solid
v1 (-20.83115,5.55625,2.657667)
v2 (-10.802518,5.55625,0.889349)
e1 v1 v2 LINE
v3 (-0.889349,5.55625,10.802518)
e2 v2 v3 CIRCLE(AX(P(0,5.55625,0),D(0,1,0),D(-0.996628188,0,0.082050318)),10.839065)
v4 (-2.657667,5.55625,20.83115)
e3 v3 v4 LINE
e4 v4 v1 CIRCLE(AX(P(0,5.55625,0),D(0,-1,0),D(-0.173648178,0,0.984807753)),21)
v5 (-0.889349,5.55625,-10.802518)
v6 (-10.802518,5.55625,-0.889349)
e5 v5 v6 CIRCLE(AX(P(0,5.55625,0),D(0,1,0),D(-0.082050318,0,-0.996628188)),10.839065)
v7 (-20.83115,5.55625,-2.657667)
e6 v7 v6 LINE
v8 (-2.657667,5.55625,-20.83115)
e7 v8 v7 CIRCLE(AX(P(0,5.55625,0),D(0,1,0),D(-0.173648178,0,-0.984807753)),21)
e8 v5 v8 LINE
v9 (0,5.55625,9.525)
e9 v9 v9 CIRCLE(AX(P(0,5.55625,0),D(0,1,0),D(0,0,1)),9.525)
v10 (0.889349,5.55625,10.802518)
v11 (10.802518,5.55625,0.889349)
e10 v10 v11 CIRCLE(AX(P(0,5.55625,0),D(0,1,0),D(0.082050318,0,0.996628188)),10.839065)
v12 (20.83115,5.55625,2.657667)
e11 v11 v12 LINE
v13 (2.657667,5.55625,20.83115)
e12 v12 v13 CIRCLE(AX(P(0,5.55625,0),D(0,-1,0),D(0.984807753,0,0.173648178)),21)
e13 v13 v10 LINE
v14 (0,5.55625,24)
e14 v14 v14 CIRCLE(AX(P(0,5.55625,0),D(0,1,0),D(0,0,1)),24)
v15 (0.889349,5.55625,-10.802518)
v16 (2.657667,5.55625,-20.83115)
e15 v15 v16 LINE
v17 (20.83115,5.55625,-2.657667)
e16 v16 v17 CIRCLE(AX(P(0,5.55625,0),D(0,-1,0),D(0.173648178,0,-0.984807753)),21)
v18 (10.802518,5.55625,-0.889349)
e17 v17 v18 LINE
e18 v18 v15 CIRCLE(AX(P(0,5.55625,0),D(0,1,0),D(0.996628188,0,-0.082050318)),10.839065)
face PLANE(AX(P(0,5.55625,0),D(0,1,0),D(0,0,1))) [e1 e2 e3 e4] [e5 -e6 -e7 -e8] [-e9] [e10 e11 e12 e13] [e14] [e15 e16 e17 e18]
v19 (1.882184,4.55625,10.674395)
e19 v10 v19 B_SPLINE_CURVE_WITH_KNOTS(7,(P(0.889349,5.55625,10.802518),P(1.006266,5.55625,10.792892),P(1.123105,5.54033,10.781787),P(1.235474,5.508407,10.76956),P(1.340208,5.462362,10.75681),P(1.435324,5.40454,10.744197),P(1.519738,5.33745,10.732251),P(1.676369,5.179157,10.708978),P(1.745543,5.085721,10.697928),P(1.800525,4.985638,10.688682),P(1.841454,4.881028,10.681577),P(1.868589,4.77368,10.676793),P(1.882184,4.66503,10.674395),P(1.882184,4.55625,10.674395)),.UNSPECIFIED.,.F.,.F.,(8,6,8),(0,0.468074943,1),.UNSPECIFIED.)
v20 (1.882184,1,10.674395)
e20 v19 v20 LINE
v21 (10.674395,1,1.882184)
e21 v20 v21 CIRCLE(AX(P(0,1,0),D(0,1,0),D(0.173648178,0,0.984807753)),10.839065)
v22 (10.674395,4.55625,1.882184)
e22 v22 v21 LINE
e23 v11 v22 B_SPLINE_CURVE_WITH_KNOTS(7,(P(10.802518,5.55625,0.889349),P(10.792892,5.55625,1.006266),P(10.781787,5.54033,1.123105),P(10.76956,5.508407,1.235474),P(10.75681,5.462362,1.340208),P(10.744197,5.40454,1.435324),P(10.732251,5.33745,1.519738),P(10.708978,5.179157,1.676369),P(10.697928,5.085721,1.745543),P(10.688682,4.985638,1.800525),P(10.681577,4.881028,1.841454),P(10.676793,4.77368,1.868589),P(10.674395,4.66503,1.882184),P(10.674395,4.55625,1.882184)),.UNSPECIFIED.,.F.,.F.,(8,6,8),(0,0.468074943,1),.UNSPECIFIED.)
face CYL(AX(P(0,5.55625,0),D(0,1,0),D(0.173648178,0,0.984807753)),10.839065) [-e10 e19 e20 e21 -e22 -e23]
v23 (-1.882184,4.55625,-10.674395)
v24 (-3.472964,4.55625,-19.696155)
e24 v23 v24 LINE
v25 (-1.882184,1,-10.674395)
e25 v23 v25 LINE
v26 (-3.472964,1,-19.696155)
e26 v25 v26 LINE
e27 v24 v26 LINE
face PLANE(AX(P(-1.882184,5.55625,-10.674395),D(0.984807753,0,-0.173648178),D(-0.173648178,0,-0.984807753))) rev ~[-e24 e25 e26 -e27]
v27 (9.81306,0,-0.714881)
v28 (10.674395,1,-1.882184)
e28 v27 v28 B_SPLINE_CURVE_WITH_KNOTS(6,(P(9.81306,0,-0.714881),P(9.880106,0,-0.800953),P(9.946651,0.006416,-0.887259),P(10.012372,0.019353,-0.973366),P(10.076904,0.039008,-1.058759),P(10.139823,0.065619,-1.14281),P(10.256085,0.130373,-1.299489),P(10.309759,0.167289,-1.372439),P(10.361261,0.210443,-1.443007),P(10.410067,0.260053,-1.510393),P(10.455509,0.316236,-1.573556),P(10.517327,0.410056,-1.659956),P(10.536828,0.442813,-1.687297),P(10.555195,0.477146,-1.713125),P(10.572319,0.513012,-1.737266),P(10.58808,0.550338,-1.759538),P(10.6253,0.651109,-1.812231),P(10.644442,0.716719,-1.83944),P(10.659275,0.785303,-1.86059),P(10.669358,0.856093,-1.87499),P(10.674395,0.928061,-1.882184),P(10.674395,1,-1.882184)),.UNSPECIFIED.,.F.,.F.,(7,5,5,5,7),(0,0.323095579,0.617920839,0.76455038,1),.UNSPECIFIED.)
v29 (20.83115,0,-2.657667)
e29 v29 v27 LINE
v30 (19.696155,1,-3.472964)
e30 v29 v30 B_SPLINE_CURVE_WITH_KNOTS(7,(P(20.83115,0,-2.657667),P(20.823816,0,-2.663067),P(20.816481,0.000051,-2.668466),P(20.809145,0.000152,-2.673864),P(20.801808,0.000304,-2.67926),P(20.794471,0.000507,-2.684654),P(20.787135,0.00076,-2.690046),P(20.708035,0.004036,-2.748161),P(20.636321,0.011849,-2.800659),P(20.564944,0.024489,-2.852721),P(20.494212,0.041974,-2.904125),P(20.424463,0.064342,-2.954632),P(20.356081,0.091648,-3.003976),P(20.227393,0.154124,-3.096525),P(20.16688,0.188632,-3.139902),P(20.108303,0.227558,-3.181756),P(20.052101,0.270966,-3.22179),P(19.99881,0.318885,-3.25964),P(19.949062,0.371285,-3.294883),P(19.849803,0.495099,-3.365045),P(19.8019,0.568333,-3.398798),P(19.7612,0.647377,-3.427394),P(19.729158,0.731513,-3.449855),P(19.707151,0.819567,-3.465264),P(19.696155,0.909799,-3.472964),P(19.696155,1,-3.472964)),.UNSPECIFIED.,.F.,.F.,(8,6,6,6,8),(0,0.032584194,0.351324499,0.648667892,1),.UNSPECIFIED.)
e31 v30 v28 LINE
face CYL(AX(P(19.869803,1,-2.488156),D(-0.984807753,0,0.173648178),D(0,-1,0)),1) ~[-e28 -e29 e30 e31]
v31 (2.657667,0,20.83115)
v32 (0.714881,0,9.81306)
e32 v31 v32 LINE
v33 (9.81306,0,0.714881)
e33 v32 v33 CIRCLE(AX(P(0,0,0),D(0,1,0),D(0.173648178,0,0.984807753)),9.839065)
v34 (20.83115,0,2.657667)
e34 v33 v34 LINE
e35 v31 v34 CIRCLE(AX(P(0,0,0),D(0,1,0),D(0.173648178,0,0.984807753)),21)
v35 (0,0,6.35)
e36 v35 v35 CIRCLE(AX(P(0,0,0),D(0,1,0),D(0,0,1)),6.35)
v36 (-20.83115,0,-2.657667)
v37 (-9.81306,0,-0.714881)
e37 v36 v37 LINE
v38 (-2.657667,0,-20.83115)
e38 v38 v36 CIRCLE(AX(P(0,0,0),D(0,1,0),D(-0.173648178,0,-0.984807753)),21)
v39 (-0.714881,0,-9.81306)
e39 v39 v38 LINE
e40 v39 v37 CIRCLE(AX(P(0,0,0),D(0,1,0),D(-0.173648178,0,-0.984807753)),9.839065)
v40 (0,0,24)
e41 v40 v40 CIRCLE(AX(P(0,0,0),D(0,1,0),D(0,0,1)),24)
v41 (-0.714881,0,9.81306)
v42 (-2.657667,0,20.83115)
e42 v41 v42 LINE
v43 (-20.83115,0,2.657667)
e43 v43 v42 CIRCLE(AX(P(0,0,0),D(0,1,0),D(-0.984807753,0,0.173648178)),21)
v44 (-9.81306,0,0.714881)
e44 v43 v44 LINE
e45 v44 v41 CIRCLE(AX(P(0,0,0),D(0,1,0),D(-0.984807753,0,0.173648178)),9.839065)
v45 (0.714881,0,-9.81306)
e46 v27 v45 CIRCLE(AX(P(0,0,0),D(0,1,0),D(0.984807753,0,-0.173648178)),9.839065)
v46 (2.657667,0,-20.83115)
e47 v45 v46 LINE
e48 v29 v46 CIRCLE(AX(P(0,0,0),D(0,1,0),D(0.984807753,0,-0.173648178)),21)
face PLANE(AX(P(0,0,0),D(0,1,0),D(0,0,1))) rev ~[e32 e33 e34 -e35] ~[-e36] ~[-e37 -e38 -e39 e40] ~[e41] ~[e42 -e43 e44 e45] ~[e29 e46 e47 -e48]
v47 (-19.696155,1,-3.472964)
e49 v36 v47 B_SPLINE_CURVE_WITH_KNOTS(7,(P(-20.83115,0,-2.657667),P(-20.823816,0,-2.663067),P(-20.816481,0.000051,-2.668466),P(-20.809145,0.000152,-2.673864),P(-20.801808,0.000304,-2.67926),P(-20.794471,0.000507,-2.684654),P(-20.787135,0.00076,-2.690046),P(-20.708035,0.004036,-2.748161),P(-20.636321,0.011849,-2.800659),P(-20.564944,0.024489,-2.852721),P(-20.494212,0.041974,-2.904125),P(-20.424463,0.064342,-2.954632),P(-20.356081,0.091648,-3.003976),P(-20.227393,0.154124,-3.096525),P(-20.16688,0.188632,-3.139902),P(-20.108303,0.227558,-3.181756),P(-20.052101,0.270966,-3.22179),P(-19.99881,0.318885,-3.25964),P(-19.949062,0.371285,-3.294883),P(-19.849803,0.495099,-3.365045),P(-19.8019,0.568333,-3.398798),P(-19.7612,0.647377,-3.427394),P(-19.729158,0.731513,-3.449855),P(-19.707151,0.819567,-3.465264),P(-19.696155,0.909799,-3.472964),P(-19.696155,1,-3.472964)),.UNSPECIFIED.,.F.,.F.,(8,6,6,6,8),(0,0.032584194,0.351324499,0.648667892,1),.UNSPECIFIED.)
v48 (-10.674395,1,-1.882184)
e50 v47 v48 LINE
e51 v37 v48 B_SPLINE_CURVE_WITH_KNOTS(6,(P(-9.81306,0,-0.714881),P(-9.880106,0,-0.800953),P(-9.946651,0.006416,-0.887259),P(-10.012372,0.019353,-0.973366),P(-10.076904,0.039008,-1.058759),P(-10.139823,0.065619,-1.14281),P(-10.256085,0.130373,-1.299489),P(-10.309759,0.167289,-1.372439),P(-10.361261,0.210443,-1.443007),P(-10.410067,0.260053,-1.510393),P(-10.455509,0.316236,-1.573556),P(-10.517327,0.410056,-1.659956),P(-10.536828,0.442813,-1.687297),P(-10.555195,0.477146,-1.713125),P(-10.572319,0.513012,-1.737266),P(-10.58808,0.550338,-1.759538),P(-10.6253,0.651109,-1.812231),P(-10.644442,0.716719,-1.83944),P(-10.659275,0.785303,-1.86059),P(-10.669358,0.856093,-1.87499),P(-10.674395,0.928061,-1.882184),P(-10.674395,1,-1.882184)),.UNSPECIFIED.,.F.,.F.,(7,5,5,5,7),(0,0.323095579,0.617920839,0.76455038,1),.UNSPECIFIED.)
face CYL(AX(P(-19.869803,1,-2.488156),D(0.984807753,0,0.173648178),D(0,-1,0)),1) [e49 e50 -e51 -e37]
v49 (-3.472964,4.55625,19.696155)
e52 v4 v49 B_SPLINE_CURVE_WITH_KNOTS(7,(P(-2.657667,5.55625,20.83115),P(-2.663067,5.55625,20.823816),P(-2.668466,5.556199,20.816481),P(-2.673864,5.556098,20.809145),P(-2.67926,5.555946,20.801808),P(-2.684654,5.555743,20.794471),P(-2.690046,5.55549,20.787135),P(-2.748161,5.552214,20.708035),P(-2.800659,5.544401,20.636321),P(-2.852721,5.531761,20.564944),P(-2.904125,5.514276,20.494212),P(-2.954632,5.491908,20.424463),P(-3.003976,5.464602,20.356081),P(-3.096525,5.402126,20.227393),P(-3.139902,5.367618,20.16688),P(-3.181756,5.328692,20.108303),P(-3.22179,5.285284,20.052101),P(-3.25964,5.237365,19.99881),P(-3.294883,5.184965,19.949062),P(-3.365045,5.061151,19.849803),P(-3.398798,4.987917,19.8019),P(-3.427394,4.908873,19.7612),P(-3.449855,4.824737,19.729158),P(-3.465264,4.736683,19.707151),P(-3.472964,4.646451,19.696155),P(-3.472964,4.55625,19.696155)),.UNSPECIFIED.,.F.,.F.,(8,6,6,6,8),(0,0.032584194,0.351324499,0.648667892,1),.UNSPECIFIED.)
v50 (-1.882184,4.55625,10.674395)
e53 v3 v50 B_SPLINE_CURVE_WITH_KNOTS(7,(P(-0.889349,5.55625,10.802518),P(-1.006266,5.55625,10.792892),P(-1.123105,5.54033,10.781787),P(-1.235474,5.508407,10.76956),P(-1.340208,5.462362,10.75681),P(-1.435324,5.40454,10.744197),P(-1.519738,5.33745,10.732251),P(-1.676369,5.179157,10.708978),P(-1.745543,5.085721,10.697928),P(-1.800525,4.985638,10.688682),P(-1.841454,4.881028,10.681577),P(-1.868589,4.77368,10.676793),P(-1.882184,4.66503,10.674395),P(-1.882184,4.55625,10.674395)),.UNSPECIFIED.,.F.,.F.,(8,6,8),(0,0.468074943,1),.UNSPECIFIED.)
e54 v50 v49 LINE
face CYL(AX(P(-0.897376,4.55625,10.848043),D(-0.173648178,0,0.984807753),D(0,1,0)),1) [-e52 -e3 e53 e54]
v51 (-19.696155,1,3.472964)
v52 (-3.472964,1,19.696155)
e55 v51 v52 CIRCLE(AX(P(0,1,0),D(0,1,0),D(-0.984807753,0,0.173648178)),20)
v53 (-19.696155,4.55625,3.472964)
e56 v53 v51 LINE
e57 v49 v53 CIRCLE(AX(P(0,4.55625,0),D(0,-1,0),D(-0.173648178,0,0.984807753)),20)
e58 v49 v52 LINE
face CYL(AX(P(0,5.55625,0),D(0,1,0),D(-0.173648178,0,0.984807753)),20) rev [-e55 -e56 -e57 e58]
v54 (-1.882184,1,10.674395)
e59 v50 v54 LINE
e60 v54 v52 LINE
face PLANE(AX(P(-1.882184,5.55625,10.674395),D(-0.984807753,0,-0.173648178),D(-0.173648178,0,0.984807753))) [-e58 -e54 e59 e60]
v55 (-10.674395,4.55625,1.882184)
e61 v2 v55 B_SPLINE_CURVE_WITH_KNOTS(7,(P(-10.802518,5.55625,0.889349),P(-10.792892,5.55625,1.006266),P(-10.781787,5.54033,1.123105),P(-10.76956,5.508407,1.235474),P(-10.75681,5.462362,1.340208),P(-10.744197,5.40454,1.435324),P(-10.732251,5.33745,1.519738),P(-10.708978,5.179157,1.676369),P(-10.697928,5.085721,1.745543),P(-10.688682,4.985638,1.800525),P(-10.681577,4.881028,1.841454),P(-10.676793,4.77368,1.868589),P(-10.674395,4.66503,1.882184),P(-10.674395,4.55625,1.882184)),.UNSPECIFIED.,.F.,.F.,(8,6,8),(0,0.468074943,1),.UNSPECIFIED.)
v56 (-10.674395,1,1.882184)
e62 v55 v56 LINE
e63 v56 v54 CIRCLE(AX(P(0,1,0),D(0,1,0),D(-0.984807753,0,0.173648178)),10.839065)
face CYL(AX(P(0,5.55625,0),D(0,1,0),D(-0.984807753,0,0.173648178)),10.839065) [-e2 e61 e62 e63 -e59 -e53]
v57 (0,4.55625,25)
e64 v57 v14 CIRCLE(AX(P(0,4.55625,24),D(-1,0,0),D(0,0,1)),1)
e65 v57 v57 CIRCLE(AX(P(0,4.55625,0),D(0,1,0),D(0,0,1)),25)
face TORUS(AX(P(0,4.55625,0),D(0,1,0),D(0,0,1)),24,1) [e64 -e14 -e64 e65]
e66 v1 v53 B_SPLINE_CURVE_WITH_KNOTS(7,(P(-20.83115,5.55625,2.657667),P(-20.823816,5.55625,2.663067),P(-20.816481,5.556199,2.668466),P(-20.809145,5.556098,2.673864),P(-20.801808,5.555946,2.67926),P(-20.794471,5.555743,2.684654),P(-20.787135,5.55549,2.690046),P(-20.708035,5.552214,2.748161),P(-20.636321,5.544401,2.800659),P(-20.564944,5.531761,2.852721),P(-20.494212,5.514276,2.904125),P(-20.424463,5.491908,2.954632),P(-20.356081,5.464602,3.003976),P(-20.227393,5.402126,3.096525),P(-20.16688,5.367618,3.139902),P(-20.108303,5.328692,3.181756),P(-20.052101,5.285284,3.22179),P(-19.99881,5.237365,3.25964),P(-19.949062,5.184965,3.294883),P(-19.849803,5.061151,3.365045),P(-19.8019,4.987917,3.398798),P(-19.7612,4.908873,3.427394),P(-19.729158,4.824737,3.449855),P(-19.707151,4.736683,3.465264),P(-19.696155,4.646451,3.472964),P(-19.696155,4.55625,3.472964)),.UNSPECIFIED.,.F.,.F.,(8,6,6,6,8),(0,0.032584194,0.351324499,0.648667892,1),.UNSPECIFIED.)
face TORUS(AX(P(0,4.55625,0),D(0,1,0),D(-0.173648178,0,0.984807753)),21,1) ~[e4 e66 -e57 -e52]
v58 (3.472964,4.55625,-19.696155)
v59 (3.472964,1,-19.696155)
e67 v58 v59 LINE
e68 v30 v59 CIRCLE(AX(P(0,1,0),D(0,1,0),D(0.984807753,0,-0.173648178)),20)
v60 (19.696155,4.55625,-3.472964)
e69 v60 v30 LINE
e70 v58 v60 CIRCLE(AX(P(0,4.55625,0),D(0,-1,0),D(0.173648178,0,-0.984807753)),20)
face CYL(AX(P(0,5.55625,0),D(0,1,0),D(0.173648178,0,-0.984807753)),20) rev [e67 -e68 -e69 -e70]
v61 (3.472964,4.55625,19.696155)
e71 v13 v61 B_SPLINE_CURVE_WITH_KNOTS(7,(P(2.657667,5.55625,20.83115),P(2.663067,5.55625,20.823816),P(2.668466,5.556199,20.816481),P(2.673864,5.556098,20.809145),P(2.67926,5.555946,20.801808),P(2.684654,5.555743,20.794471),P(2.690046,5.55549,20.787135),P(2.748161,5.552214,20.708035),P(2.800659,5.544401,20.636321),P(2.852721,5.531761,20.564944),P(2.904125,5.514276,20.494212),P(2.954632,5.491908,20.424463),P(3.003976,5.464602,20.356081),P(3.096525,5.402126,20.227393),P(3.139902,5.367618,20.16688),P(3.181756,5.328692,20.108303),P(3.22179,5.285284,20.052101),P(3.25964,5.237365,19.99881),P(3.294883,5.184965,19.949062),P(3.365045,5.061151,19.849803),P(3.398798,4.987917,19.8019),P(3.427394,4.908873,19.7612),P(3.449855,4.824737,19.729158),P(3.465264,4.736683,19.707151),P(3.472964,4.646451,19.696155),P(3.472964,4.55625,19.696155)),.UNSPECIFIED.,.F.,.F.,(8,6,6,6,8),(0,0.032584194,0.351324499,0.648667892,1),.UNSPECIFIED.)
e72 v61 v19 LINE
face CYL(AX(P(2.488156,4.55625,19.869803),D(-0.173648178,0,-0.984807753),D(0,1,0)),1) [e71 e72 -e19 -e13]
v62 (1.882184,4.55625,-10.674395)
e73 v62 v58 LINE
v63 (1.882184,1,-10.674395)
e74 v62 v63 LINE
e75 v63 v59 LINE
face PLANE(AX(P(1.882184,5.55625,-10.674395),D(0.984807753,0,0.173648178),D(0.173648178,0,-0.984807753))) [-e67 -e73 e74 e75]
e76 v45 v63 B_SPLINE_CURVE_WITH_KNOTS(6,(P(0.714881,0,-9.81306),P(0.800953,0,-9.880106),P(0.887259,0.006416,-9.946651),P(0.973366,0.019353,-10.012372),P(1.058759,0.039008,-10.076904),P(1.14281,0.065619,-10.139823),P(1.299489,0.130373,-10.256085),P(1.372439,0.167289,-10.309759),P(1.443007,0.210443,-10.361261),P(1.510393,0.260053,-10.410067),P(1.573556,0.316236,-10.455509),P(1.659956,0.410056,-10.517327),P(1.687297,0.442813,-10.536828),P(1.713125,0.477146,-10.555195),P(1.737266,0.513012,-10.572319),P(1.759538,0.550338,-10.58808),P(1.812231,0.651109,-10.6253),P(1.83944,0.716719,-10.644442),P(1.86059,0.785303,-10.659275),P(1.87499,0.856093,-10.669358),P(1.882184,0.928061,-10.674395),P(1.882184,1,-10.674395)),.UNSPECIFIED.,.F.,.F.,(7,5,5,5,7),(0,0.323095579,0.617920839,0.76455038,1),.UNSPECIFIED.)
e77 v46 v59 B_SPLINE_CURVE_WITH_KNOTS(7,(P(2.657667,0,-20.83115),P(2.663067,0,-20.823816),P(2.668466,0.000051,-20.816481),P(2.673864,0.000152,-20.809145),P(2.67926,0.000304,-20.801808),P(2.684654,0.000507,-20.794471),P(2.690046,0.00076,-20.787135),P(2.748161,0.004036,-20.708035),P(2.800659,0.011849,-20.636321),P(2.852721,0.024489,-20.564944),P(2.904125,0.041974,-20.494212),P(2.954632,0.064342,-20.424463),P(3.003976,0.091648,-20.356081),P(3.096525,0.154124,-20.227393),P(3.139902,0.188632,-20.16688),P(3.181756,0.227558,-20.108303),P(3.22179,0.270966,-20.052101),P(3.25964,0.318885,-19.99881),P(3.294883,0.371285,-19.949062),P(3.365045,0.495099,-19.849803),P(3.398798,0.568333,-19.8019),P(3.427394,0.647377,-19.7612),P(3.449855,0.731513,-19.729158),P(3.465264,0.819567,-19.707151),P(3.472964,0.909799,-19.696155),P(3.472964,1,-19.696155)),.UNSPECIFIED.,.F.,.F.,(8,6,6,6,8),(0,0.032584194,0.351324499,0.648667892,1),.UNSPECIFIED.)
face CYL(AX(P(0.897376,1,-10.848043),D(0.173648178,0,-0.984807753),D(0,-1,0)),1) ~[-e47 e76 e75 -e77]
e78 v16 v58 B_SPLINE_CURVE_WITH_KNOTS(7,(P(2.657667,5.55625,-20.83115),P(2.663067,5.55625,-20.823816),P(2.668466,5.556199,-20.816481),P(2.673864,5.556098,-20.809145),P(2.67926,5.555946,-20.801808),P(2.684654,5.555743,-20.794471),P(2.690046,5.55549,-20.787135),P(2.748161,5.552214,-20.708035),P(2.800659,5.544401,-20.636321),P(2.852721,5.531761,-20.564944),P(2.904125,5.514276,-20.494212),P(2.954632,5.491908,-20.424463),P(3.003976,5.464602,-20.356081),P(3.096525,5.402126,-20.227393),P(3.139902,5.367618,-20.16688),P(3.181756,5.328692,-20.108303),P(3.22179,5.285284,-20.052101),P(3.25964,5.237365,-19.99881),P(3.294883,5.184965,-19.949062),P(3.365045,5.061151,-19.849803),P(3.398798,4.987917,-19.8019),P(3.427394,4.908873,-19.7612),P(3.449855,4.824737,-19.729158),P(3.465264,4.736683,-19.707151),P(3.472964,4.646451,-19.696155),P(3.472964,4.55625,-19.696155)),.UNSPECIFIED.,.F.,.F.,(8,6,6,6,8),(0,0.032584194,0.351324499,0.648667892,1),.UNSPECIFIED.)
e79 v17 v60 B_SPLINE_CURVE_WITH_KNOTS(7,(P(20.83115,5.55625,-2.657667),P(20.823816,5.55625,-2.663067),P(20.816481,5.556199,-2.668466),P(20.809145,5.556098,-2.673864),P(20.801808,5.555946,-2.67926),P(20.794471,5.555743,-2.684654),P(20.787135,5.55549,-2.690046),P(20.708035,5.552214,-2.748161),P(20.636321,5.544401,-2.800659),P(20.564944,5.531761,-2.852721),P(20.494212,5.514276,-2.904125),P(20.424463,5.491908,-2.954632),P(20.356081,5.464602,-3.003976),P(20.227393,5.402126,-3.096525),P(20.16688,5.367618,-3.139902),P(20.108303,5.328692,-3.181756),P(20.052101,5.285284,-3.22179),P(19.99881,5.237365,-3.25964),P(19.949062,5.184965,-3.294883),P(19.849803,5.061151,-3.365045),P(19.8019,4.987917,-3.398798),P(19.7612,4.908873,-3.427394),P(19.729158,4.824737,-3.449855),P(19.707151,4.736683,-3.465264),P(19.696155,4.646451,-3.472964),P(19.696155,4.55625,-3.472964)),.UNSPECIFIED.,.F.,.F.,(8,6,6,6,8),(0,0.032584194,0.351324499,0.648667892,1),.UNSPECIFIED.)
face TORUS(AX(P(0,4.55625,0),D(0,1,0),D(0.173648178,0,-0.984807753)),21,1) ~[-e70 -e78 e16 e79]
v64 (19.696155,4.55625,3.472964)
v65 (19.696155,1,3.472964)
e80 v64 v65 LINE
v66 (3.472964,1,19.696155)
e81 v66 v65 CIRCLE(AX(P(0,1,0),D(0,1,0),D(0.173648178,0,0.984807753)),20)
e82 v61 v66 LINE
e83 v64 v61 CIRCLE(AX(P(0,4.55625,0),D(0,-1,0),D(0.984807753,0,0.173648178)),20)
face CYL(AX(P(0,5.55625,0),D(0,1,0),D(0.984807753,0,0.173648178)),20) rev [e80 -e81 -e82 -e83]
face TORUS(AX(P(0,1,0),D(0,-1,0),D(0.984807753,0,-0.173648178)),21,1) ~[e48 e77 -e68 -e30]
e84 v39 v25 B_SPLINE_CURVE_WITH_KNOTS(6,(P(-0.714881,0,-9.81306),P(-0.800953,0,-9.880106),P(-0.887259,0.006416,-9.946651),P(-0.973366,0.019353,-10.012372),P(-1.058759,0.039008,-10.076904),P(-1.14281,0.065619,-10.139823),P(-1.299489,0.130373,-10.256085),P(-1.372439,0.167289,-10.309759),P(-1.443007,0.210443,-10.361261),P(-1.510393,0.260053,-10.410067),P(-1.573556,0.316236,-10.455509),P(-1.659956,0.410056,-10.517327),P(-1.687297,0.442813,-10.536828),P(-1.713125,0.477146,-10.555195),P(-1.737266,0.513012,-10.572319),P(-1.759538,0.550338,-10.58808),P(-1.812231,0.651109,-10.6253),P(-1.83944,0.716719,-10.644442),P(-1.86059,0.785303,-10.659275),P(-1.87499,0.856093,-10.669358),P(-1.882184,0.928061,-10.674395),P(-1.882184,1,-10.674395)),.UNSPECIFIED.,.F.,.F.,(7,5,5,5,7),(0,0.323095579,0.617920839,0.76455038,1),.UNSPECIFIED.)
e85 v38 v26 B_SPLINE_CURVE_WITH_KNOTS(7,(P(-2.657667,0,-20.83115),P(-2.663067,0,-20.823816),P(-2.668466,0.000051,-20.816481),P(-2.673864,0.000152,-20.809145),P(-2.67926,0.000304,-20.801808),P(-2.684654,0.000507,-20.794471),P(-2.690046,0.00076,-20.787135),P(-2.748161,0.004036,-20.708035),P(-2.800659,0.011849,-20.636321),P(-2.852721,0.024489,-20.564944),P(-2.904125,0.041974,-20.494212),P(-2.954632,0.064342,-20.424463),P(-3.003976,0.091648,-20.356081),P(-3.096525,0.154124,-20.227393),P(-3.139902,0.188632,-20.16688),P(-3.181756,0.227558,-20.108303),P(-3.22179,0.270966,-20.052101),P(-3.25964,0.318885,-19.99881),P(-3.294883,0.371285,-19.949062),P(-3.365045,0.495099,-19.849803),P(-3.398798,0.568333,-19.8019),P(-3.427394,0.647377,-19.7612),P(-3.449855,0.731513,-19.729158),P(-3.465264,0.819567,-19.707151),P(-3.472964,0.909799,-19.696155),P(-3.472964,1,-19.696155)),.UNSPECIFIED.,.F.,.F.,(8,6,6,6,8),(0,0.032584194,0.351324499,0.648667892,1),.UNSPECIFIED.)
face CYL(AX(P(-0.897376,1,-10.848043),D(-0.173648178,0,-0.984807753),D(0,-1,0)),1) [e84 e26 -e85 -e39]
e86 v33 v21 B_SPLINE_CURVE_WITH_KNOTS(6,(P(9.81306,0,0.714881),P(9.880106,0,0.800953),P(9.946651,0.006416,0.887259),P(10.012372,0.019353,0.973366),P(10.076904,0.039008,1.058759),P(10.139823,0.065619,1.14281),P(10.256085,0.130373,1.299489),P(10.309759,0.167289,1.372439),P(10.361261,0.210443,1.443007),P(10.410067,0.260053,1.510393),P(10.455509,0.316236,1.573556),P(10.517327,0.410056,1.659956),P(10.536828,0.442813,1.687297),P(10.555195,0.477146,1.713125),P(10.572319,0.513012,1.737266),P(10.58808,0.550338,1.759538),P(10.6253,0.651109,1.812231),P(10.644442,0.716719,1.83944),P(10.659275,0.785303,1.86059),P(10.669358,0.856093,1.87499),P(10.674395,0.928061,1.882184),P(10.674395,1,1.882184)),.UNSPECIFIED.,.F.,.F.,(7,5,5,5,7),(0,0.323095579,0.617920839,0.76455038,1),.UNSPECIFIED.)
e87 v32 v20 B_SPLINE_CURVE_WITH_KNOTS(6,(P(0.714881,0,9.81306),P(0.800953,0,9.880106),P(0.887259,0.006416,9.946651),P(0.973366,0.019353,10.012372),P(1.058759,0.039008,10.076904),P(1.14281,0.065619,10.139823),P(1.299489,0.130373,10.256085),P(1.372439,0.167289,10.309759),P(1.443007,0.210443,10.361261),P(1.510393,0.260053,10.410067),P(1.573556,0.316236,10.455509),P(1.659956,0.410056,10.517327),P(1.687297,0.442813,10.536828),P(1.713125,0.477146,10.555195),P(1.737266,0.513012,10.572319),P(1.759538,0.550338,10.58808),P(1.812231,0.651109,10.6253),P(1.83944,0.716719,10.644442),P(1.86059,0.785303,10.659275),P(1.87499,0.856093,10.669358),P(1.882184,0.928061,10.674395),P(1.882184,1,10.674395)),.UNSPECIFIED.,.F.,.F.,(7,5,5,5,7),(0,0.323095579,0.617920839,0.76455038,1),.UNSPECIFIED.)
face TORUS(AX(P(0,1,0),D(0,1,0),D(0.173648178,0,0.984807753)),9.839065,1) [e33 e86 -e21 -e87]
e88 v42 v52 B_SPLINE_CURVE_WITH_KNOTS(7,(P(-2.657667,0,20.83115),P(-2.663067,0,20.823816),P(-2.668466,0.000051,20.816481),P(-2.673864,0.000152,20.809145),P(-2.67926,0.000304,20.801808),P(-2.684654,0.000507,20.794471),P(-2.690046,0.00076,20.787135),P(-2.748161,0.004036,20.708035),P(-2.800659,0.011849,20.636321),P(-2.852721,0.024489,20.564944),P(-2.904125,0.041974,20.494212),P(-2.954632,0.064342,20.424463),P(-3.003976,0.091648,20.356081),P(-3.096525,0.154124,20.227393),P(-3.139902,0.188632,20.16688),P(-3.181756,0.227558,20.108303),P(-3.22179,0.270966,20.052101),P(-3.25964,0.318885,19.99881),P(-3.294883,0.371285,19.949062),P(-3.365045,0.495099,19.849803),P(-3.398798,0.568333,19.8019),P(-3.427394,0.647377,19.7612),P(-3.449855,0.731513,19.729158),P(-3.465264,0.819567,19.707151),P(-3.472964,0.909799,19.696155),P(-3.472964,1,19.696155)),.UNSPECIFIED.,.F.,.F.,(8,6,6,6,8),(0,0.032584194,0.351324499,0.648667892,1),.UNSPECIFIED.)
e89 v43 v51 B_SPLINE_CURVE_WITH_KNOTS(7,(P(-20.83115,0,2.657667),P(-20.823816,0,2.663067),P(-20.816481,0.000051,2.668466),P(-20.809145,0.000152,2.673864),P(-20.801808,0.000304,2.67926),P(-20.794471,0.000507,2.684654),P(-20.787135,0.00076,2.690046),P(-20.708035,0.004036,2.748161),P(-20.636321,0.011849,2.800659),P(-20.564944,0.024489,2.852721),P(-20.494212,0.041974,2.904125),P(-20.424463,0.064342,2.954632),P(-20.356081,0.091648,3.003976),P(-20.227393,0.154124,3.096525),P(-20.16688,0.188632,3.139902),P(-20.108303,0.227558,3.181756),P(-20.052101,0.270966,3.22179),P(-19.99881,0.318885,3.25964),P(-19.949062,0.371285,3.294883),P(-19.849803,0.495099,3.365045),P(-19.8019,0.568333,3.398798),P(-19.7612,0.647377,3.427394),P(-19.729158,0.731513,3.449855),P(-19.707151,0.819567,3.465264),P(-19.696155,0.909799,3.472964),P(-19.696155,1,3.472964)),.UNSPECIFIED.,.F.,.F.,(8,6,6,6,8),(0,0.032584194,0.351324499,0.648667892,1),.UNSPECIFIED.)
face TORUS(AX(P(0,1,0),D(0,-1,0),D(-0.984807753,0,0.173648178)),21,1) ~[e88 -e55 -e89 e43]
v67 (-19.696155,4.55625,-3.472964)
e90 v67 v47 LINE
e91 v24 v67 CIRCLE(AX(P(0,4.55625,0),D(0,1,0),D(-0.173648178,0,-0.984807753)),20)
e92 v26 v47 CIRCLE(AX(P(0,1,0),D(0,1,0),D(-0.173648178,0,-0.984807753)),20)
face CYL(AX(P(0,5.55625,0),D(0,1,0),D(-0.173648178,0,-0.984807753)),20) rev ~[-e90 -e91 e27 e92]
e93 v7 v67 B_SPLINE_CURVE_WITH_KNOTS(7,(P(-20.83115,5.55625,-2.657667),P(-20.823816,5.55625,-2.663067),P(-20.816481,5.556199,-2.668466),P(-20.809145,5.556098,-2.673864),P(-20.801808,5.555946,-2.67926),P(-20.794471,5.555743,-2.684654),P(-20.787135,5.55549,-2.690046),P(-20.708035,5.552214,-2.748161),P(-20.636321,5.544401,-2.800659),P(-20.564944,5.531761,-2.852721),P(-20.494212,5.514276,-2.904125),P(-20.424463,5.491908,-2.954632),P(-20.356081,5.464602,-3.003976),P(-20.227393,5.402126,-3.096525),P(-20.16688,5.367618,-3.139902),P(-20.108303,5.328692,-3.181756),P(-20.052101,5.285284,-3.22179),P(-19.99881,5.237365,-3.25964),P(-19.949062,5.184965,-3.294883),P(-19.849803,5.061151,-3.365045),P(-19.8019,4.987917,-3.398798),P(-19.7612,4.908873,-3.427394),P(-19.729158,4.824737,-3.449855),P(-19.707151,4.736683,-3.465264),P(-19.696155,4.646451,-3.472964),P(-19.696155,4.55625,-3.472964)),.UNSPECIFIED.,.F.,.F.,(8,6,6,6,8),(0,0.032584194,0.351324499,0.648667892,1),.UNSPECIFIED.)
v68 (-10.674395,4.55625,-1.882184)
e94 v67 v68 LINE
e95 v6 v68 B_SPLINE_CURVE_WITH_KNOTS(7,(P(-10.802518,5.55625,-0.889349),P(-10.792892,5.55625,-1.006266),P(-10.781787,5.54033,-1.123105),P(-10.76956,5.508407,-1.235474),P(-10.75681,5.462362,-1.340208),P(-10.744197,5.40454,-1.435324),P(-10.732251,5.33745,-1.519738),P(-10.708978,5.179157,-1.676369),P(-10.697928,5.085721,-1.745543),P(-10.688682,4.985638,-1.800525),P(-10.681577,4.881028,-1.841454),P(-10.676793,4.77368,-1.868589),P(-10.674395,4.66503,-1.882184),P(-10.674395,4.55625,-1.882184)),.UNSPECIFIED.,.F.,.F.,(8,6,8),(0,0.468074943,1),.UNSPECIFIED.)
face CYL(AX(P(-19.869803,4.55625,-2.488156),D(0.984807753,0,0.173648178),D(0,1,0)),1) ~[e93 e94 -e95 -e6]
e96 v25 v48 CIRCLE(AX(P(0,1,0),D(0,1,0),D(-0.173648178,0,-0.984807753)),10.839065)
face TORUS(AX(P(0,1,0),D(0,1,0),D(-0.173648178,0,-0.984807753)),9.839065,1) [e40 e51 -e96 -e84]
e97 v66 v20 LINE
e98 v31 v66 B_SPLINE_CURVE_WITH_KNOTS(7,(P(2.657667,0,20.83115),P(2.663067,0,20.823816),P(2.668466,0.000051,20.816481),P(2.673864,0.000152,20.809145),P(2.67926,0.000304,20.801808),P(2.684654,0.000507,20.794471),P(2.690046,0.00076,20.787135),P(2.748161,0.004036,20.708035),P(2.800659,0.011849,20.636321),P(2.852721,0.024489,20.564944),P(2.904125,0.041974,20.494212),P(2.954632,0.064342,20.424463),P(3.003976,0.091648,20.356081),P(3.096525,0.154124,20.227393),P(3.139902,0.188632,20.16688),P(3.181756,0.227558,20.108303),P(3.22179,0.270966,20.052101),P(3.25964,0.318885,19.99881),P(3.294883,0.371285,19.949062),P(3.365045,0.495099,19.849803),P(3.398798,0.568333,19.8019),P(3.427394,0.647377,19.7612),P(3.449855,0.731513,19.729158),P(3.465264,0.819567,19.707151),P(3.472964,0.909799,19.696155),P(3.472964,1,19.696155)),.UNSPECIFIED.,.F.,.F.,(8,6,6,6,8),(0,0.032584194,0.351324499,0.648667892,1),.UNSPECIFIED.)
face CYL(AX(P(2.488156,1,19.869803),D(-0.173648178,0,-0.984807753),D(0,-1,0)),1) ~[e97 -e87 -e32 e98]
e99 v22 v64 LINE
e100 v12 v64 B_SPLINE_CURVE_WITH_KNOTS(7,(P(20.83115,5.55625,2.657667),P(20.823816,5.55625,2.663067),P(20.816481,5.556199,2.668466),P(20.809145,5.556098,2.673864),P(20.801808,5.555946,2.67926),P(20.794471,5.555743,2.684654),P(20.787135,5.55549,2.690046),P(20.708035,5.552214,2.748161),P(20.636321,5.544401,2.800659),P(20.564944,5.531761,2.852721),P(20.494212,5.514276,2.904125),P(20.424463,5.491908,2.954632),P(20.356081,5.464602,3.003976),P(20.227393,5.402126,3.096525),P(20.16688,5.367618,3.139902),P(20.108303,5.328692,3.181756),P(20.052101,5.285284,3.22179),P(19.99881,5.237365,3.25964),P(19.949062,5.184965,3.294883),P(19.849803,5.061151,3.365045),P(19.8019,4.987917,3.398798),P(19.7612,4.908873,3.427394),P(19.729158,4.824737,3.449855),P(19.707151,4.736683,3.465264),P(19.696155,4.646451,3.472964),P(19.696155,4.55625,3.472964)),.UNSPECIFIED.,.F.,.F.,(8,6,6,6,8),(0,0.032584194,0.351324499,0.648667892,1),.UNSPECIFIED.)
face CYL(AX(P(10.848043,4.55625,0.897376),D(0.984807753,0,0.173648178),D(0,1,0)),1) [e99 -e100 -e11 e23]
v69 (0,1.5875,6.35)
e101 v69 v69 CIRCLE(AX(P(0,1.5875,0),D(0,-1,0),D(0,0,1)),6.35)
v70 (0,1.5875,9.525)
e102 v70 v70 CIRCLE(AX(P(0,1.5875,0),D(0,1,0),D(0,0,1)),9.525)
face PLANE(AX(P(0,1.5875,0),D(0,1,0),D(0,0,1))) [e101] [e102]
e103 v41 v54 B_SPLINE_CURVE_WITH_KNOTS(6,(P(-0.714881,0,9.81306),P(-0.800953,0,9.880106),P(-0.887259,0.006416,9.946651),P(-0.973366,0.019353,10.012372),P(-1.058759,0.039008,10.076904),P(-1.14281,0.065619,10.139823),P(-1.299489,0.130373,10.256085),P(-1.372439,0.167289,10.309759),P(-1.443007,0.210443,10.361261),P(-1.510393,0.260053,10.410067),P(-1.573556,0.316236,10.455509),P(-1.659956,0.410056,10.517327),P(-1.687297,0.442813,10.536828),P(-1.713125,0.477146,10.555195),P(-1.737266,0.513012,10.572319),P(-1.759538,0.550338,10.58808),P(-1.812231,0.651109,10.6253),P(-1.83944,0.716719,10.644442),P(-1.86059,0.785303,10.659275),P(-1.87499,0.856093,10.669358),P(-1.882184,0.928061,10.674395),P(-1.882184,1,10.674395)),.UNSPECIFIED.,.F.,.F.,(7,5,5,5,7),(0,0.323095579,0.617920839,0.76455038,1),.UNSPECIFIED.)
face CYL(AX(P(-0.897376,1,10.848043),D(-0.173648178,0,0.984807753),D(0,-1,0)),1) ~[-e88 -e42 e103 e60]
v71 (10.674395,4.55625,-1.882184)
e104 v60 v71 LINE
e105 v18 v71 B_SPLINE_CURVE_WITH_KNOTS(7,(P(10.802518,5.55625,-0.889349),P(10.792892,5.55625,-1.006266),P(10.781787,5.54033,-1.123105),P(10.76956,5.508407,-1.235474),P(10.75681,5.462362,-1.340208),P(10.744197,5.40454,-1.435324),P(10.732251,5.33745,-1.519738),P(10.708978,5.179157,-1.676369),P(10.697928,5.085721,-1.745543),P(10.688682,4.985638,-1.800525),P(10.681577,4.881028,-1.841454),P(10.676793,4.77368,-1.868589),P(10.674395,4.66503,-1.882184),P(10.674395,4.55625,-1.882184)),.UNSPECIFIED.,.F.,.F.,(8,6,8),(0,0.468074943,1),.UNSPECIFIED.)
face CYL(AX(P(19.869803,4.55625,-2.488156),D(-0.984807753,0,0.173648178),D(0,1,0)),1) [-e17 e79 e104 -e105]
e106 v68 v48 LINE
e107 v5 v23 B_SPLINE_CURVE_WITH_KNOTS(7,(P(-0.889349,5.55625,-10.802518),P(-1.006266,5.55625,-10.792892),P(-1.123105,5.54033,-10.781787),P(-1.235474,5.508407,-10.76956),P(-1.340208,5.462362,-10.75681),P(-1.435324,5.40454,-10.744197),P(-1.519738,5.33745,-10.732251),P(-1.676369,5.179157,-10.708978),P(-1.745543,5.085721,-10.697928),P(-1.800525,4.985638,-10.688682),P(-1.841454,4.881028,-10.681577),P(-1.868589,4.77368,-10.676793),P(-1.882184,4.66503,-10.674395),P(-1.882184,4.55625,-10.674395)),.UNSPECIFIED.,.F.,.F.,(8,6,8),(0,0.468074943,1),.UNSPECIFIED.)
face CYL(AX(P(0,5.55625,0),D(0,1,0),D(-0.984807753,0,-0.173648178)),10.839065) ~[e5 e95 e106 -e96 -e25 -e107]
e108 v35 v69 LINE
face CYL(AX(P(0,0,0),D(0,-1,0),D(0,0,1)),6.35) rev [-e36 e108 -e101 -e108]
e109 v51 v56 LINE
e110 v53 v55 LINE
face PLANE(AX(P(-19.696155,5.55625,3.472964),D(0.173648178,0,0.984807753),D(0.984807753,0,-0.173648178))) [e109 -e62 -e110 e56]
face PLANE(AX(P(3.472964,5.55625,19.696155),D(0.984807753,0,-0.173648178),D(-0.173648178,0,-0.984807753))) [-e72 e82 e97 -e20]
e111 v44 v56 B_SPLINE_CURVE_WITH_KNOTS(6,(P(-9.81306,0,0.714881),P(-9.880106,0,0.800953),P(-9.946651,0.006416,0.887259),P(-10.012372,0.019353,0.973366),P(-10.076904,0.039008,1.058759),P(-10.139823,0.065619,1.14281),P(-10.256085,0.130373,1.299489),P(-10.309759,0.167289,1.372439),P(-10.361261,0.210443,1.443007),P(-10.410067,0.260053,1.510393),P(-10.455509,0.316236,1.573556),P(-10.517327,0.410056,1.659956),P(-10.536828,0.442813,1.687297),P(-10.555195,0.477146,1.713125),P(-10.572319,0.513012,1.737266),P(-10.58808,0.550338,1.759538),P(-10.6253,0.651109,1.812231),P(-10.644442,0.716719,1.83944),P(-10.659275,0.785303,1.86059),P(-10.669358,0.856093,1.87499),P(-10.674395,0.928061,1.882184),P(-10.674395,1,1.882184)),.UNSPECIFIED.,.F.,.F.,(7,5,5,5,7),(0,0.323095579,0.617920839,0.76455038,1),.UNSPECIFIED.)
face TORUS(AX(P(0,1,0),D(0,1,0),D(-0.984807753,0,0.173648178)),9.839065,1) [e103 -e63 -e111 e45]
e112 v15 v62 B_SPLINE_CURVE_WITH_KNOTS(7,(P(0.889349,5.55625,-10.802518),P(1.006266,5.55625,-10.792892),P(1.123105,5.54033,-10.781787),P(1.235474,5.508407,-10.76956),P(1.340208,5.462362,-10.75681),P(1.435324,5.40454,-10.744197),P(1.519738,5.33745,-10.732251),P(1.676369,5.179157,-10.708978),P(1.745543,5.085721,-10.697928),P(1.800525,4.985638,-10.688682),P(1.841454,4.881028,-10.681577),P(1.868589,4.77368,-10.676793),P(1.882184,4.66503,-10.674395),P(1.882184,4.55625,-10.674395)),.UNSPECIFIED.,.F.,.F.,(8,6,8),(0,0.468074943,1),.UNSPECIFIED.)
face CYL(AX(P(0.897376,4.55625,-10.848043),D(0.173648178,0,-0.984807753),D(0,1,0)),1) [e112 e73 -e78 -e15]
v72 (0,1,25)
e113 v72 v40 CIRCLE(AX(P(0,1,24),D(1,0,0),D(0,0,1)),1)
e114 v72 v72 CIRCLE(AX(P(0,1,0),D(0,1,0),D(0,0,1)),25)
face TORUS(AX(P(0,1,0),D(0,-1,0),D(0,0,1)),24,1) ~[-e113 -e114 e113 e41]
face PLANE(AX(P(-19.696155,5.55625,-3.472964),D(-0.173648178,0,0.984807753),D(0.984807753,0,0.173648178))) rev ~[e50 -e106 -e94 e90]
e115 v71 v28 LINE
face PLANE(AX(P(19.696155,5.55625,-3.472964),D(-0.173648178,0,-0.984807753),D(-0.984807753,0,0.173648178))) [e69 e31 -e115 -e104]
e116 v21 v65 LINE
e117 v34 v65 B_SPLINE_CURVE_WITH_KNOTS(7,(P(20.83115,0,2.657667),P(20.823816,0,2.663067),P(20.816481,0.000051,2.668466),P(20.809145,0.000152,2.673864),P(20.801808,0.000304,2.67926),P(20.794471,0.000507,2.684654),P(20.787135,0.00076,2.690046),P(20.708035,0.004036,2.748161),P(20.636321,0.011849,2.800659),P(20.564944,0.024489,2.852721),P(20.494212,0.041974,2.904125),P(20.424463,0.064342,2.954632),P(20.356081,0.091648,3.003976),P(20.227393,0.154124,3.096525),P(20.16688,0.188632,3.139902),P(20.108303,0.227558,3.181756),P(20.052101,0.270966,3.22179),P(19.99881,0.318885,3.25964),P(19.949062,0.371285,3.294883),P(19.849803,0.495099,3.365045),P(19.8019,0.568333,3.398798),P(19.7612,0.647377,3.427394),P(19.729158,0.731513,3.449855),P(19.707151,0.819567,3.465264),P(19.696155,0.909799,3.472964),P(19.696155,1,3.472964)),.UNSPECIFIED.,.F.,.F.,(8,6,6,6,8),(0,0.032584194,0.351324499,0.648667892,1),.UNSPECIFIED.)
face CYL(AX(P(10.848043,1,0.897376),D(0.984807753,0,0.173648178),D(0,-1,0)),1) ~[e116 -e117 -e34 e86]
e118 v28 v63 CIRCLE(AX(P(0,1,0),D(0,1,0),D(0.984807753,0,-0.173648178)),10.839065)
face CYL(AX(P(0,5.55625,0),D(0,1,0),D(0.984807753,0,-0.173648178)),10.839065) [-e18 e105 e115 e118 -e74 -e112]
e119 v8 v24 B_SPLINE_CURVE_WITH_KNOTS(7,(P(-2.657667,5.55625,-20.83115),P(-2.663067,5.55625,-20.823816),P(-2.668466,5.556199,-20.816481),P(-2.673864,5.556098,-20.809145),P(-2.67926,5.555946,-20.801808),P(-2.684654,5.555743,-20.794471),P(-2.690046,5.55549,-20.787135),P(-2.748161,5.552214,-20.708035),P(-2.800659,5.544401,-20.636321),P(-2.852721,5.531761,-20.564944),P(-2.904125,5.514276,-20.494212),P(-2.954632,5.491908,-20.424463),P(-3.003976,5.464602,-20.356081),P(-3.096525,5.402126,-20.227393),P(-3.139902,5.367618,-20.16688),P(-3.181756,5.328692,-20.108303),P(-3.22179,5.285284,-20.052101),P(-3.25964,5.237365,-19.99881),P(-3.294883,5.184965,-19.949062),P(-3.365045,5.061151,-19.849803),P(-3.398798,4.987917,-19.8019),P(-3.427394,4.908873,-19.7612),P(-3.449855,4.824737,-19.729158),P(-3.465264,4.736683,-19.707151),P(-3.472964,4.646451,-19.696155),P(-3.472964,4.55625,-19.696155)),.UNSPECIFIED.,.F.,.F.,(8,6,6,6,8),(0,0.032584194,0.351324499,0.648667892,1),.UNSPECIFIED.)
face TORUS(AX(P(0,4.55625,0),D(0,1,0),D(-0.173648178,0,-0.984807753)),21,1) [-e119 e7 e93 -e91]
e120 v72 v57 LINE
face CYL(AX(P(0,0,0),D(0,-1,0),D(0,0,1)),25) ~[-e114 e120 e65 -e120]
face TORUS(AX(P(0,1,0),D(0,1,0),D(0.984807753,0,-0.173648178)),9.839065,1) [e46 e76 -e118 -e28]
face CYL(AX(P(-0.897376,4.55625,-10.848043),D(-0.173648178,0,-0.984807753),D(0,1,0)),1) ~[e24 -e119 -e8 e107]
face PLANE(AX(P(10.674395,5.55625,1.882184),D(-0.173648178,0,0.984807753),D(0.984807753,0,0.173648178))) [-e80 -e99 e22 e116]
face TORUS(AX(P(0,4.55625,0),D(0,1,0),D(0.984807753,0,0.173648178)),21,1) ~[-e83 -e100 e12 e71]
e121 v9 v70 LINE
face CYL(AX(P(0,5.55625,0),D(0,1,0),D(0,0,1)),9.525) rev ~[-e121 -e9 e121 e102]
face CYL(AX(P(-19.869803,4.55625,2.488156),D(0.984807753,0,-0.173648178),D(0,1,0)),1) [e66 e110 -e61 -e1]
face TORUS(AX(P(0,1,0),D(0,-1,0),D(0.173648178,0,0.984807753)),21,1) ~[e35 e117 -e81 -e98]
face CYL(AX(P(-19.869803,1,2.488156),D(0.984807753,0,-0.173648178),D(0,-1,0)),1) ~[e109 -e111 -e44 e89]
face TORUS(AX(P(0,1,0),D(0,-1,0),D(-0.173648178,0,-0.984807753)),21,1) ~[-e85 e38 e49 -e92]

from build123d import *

# Parameters (mm, degrees)
SKETCH1_R           = 25
SKETCH1_R_2         = 6.35
BOSS_EXTRUDE1_DEPTH = 5.55625
SKETCH2_R           = 9.525
CUT_EXTRUDE1_DEPTH  = 3.96875
CUT_EXTRUDE2_DEPTH  = 36.789270935
FILLET2_R           = 1


with BuildPart() as part:
    # Sketch1 → Boss-Extrude1 (new body)
    with BuildSketch(Plane(origin=(0, 0, 0), x_dir=(1, 0, 0), z_dir=(0, 1, 0))):
        with Locations(Location((0, 0, 0), (0, 0, 270))):
            Circle(SKETCH1_R)
        with Locations(Location((0, 0, 0), (0, 0, 270))):
            Circle(SKETCH1_R_2, mode=Mode.SUBTRACT)
    extrude(amount=BOSS_EXTRUDE1_DEPTH)

    # Sketch2 → Cut-Extrude1 (cut)
    with BuildSketch(Plane(origin=(0, 5.55625, 0), x_dir=(1, 0, 0), z_dir=(0, 1, 0))):
        with Locations(Location((0, 0, 0), (0, 0, 270))):
            Circle(SKETCH2_R)
    extrude(amount=-CUT_EXTRUDE1_DEPTH, mode=Mode.SUBTRACT)

    # Sketch3 → Cut-Extrude2 (cut, through all)
    with BuildSketch(Plane(origin=(0, 5.55625, 0), x_dir=(1, 0, 0), z_dir=(0, 1, 0))):
        with BuildLine():
            Line((-1.882183896, 10.674395311), (-3.472963553, 19.69615506))
            ThreePointArc((-3.472963553, 19.69615506), (-14.142135624, 14.142135624), (-19.69615506, 3.472963553))
            Line((-19.69615506, 3.472963553), (-10.674395311, 1.882183896))
            ThreePointArc((-10.674395311, 1.882183896), (-7.664376409, 7.664376409), (-1.882183896, 10.674395311))
        make_face()
        with BuildLine():
            Line((1.882183896, 10.674395311), (3.472963553, 19.69615506))
            ThreePointArc((3.472963553, 19.69615506), (14.142135624, 14.142135624), (19.69615506, 3.472963553))
            Line((19.69615506, 3.472963553), (10.674395311, 1.882183896))
            ThreePointArc((10.674395311, 1.882183896), (7.664376409, 7.664376409), (1.882183896, 10.674395311))
        make_face()
        with BuildLine():
            Line((10.674395311, -1.882183896), (19.69615506, -3.472963553))
            ThreePointArc((19.69615506, -3.472963553), (14.142135624, -14.142135624), (3.472963553, -19.69615506))
            Line((3.472963553, -19.69615506), (1.882183896, -10.674395311))
            ThreePointArc((1.882183896, -10.674395311), (7.664376409, -7.664376409), (10.674395311, -1.882183896))
        make_face()
        with BuildLine():
            Line((-1.882183896, -10.674395311), (-3.472963553, -19.69615506))
            ThreePointArc((-3.472963553, -19.69615506), (-14.142135624, -14.142135624), (-19.69615506, -3.472963553))
            Line((-19.69615506, -3.472963553), (-10.674395311, -1.882183896))
            ThreePointArc((-10.674395311, -1.882183896), (-7.664376409, -7.664376409), (-1.882183896, -10.674395311))
        make_face()
    extrude(amount=-CUT_EXTRUDE2_DEPTH, mode=Mode.SUBTRACT)

    # Fillet2
    fillet2_edges = [part.edges().sort_by_distance(p)[0] for p in [
        (0, 0, -25),
        (14.142135624, 0, 14.142135624),
        (2.677573725, 0, 15.185275186),
        (7.664376409, 0, 7.664376409),
        (15.185275186, 0, 2.677573725),
        (14.142135624, 5.55625, 14.142135624),
        (15.185275186, 5.55625, 2.677573725),
        (2.677573725, 5.55625, 15.185275186),
        (14.142135624, 0, -14.142135624),
        (15.185275186, 0, -2.677573725),
        (7.664376409, 0, -7.664376409),
        (2.677573725, 0, -15.185275186),
        (14.142135624, 5.55625, -14.142135624),
        (2.677573725, 5.55625, -15.185275186),
        (15.185275186, 5.55625, -2.677573725),
        (0, 5.55625, -25),
        (-7.664376409, 0, -7.664376409),
        (-15.185275186, 0, -2.677573725),
        (-14.142135624, 0, -14.142135624),
        (-2.677573725, 0, -15.185275186),
        (-2.677573725, 5.55625, -15.185275186),
        (-14.142135624, 5.55625, -14.142135624),
        (-15.185275186, 5.55625, -2.677573725),
        (-14.142135624, 0, 14.142135624),
        (-15.185275186, 0, 2.677573725),
        (-7.664376409, 0, 7.664376409),
        (-2.677573725, 0, 15.185275186),
        (-14.142135624, 5.55625, 14.142135624),
        (-2.677573725, 5.55625, 15.185275186),
        (-15.185275186, 5.55625, 2.677573725),
    ]]
    fillet(fillet2_edges, radius=FILLET2_R)


solid = part.part
